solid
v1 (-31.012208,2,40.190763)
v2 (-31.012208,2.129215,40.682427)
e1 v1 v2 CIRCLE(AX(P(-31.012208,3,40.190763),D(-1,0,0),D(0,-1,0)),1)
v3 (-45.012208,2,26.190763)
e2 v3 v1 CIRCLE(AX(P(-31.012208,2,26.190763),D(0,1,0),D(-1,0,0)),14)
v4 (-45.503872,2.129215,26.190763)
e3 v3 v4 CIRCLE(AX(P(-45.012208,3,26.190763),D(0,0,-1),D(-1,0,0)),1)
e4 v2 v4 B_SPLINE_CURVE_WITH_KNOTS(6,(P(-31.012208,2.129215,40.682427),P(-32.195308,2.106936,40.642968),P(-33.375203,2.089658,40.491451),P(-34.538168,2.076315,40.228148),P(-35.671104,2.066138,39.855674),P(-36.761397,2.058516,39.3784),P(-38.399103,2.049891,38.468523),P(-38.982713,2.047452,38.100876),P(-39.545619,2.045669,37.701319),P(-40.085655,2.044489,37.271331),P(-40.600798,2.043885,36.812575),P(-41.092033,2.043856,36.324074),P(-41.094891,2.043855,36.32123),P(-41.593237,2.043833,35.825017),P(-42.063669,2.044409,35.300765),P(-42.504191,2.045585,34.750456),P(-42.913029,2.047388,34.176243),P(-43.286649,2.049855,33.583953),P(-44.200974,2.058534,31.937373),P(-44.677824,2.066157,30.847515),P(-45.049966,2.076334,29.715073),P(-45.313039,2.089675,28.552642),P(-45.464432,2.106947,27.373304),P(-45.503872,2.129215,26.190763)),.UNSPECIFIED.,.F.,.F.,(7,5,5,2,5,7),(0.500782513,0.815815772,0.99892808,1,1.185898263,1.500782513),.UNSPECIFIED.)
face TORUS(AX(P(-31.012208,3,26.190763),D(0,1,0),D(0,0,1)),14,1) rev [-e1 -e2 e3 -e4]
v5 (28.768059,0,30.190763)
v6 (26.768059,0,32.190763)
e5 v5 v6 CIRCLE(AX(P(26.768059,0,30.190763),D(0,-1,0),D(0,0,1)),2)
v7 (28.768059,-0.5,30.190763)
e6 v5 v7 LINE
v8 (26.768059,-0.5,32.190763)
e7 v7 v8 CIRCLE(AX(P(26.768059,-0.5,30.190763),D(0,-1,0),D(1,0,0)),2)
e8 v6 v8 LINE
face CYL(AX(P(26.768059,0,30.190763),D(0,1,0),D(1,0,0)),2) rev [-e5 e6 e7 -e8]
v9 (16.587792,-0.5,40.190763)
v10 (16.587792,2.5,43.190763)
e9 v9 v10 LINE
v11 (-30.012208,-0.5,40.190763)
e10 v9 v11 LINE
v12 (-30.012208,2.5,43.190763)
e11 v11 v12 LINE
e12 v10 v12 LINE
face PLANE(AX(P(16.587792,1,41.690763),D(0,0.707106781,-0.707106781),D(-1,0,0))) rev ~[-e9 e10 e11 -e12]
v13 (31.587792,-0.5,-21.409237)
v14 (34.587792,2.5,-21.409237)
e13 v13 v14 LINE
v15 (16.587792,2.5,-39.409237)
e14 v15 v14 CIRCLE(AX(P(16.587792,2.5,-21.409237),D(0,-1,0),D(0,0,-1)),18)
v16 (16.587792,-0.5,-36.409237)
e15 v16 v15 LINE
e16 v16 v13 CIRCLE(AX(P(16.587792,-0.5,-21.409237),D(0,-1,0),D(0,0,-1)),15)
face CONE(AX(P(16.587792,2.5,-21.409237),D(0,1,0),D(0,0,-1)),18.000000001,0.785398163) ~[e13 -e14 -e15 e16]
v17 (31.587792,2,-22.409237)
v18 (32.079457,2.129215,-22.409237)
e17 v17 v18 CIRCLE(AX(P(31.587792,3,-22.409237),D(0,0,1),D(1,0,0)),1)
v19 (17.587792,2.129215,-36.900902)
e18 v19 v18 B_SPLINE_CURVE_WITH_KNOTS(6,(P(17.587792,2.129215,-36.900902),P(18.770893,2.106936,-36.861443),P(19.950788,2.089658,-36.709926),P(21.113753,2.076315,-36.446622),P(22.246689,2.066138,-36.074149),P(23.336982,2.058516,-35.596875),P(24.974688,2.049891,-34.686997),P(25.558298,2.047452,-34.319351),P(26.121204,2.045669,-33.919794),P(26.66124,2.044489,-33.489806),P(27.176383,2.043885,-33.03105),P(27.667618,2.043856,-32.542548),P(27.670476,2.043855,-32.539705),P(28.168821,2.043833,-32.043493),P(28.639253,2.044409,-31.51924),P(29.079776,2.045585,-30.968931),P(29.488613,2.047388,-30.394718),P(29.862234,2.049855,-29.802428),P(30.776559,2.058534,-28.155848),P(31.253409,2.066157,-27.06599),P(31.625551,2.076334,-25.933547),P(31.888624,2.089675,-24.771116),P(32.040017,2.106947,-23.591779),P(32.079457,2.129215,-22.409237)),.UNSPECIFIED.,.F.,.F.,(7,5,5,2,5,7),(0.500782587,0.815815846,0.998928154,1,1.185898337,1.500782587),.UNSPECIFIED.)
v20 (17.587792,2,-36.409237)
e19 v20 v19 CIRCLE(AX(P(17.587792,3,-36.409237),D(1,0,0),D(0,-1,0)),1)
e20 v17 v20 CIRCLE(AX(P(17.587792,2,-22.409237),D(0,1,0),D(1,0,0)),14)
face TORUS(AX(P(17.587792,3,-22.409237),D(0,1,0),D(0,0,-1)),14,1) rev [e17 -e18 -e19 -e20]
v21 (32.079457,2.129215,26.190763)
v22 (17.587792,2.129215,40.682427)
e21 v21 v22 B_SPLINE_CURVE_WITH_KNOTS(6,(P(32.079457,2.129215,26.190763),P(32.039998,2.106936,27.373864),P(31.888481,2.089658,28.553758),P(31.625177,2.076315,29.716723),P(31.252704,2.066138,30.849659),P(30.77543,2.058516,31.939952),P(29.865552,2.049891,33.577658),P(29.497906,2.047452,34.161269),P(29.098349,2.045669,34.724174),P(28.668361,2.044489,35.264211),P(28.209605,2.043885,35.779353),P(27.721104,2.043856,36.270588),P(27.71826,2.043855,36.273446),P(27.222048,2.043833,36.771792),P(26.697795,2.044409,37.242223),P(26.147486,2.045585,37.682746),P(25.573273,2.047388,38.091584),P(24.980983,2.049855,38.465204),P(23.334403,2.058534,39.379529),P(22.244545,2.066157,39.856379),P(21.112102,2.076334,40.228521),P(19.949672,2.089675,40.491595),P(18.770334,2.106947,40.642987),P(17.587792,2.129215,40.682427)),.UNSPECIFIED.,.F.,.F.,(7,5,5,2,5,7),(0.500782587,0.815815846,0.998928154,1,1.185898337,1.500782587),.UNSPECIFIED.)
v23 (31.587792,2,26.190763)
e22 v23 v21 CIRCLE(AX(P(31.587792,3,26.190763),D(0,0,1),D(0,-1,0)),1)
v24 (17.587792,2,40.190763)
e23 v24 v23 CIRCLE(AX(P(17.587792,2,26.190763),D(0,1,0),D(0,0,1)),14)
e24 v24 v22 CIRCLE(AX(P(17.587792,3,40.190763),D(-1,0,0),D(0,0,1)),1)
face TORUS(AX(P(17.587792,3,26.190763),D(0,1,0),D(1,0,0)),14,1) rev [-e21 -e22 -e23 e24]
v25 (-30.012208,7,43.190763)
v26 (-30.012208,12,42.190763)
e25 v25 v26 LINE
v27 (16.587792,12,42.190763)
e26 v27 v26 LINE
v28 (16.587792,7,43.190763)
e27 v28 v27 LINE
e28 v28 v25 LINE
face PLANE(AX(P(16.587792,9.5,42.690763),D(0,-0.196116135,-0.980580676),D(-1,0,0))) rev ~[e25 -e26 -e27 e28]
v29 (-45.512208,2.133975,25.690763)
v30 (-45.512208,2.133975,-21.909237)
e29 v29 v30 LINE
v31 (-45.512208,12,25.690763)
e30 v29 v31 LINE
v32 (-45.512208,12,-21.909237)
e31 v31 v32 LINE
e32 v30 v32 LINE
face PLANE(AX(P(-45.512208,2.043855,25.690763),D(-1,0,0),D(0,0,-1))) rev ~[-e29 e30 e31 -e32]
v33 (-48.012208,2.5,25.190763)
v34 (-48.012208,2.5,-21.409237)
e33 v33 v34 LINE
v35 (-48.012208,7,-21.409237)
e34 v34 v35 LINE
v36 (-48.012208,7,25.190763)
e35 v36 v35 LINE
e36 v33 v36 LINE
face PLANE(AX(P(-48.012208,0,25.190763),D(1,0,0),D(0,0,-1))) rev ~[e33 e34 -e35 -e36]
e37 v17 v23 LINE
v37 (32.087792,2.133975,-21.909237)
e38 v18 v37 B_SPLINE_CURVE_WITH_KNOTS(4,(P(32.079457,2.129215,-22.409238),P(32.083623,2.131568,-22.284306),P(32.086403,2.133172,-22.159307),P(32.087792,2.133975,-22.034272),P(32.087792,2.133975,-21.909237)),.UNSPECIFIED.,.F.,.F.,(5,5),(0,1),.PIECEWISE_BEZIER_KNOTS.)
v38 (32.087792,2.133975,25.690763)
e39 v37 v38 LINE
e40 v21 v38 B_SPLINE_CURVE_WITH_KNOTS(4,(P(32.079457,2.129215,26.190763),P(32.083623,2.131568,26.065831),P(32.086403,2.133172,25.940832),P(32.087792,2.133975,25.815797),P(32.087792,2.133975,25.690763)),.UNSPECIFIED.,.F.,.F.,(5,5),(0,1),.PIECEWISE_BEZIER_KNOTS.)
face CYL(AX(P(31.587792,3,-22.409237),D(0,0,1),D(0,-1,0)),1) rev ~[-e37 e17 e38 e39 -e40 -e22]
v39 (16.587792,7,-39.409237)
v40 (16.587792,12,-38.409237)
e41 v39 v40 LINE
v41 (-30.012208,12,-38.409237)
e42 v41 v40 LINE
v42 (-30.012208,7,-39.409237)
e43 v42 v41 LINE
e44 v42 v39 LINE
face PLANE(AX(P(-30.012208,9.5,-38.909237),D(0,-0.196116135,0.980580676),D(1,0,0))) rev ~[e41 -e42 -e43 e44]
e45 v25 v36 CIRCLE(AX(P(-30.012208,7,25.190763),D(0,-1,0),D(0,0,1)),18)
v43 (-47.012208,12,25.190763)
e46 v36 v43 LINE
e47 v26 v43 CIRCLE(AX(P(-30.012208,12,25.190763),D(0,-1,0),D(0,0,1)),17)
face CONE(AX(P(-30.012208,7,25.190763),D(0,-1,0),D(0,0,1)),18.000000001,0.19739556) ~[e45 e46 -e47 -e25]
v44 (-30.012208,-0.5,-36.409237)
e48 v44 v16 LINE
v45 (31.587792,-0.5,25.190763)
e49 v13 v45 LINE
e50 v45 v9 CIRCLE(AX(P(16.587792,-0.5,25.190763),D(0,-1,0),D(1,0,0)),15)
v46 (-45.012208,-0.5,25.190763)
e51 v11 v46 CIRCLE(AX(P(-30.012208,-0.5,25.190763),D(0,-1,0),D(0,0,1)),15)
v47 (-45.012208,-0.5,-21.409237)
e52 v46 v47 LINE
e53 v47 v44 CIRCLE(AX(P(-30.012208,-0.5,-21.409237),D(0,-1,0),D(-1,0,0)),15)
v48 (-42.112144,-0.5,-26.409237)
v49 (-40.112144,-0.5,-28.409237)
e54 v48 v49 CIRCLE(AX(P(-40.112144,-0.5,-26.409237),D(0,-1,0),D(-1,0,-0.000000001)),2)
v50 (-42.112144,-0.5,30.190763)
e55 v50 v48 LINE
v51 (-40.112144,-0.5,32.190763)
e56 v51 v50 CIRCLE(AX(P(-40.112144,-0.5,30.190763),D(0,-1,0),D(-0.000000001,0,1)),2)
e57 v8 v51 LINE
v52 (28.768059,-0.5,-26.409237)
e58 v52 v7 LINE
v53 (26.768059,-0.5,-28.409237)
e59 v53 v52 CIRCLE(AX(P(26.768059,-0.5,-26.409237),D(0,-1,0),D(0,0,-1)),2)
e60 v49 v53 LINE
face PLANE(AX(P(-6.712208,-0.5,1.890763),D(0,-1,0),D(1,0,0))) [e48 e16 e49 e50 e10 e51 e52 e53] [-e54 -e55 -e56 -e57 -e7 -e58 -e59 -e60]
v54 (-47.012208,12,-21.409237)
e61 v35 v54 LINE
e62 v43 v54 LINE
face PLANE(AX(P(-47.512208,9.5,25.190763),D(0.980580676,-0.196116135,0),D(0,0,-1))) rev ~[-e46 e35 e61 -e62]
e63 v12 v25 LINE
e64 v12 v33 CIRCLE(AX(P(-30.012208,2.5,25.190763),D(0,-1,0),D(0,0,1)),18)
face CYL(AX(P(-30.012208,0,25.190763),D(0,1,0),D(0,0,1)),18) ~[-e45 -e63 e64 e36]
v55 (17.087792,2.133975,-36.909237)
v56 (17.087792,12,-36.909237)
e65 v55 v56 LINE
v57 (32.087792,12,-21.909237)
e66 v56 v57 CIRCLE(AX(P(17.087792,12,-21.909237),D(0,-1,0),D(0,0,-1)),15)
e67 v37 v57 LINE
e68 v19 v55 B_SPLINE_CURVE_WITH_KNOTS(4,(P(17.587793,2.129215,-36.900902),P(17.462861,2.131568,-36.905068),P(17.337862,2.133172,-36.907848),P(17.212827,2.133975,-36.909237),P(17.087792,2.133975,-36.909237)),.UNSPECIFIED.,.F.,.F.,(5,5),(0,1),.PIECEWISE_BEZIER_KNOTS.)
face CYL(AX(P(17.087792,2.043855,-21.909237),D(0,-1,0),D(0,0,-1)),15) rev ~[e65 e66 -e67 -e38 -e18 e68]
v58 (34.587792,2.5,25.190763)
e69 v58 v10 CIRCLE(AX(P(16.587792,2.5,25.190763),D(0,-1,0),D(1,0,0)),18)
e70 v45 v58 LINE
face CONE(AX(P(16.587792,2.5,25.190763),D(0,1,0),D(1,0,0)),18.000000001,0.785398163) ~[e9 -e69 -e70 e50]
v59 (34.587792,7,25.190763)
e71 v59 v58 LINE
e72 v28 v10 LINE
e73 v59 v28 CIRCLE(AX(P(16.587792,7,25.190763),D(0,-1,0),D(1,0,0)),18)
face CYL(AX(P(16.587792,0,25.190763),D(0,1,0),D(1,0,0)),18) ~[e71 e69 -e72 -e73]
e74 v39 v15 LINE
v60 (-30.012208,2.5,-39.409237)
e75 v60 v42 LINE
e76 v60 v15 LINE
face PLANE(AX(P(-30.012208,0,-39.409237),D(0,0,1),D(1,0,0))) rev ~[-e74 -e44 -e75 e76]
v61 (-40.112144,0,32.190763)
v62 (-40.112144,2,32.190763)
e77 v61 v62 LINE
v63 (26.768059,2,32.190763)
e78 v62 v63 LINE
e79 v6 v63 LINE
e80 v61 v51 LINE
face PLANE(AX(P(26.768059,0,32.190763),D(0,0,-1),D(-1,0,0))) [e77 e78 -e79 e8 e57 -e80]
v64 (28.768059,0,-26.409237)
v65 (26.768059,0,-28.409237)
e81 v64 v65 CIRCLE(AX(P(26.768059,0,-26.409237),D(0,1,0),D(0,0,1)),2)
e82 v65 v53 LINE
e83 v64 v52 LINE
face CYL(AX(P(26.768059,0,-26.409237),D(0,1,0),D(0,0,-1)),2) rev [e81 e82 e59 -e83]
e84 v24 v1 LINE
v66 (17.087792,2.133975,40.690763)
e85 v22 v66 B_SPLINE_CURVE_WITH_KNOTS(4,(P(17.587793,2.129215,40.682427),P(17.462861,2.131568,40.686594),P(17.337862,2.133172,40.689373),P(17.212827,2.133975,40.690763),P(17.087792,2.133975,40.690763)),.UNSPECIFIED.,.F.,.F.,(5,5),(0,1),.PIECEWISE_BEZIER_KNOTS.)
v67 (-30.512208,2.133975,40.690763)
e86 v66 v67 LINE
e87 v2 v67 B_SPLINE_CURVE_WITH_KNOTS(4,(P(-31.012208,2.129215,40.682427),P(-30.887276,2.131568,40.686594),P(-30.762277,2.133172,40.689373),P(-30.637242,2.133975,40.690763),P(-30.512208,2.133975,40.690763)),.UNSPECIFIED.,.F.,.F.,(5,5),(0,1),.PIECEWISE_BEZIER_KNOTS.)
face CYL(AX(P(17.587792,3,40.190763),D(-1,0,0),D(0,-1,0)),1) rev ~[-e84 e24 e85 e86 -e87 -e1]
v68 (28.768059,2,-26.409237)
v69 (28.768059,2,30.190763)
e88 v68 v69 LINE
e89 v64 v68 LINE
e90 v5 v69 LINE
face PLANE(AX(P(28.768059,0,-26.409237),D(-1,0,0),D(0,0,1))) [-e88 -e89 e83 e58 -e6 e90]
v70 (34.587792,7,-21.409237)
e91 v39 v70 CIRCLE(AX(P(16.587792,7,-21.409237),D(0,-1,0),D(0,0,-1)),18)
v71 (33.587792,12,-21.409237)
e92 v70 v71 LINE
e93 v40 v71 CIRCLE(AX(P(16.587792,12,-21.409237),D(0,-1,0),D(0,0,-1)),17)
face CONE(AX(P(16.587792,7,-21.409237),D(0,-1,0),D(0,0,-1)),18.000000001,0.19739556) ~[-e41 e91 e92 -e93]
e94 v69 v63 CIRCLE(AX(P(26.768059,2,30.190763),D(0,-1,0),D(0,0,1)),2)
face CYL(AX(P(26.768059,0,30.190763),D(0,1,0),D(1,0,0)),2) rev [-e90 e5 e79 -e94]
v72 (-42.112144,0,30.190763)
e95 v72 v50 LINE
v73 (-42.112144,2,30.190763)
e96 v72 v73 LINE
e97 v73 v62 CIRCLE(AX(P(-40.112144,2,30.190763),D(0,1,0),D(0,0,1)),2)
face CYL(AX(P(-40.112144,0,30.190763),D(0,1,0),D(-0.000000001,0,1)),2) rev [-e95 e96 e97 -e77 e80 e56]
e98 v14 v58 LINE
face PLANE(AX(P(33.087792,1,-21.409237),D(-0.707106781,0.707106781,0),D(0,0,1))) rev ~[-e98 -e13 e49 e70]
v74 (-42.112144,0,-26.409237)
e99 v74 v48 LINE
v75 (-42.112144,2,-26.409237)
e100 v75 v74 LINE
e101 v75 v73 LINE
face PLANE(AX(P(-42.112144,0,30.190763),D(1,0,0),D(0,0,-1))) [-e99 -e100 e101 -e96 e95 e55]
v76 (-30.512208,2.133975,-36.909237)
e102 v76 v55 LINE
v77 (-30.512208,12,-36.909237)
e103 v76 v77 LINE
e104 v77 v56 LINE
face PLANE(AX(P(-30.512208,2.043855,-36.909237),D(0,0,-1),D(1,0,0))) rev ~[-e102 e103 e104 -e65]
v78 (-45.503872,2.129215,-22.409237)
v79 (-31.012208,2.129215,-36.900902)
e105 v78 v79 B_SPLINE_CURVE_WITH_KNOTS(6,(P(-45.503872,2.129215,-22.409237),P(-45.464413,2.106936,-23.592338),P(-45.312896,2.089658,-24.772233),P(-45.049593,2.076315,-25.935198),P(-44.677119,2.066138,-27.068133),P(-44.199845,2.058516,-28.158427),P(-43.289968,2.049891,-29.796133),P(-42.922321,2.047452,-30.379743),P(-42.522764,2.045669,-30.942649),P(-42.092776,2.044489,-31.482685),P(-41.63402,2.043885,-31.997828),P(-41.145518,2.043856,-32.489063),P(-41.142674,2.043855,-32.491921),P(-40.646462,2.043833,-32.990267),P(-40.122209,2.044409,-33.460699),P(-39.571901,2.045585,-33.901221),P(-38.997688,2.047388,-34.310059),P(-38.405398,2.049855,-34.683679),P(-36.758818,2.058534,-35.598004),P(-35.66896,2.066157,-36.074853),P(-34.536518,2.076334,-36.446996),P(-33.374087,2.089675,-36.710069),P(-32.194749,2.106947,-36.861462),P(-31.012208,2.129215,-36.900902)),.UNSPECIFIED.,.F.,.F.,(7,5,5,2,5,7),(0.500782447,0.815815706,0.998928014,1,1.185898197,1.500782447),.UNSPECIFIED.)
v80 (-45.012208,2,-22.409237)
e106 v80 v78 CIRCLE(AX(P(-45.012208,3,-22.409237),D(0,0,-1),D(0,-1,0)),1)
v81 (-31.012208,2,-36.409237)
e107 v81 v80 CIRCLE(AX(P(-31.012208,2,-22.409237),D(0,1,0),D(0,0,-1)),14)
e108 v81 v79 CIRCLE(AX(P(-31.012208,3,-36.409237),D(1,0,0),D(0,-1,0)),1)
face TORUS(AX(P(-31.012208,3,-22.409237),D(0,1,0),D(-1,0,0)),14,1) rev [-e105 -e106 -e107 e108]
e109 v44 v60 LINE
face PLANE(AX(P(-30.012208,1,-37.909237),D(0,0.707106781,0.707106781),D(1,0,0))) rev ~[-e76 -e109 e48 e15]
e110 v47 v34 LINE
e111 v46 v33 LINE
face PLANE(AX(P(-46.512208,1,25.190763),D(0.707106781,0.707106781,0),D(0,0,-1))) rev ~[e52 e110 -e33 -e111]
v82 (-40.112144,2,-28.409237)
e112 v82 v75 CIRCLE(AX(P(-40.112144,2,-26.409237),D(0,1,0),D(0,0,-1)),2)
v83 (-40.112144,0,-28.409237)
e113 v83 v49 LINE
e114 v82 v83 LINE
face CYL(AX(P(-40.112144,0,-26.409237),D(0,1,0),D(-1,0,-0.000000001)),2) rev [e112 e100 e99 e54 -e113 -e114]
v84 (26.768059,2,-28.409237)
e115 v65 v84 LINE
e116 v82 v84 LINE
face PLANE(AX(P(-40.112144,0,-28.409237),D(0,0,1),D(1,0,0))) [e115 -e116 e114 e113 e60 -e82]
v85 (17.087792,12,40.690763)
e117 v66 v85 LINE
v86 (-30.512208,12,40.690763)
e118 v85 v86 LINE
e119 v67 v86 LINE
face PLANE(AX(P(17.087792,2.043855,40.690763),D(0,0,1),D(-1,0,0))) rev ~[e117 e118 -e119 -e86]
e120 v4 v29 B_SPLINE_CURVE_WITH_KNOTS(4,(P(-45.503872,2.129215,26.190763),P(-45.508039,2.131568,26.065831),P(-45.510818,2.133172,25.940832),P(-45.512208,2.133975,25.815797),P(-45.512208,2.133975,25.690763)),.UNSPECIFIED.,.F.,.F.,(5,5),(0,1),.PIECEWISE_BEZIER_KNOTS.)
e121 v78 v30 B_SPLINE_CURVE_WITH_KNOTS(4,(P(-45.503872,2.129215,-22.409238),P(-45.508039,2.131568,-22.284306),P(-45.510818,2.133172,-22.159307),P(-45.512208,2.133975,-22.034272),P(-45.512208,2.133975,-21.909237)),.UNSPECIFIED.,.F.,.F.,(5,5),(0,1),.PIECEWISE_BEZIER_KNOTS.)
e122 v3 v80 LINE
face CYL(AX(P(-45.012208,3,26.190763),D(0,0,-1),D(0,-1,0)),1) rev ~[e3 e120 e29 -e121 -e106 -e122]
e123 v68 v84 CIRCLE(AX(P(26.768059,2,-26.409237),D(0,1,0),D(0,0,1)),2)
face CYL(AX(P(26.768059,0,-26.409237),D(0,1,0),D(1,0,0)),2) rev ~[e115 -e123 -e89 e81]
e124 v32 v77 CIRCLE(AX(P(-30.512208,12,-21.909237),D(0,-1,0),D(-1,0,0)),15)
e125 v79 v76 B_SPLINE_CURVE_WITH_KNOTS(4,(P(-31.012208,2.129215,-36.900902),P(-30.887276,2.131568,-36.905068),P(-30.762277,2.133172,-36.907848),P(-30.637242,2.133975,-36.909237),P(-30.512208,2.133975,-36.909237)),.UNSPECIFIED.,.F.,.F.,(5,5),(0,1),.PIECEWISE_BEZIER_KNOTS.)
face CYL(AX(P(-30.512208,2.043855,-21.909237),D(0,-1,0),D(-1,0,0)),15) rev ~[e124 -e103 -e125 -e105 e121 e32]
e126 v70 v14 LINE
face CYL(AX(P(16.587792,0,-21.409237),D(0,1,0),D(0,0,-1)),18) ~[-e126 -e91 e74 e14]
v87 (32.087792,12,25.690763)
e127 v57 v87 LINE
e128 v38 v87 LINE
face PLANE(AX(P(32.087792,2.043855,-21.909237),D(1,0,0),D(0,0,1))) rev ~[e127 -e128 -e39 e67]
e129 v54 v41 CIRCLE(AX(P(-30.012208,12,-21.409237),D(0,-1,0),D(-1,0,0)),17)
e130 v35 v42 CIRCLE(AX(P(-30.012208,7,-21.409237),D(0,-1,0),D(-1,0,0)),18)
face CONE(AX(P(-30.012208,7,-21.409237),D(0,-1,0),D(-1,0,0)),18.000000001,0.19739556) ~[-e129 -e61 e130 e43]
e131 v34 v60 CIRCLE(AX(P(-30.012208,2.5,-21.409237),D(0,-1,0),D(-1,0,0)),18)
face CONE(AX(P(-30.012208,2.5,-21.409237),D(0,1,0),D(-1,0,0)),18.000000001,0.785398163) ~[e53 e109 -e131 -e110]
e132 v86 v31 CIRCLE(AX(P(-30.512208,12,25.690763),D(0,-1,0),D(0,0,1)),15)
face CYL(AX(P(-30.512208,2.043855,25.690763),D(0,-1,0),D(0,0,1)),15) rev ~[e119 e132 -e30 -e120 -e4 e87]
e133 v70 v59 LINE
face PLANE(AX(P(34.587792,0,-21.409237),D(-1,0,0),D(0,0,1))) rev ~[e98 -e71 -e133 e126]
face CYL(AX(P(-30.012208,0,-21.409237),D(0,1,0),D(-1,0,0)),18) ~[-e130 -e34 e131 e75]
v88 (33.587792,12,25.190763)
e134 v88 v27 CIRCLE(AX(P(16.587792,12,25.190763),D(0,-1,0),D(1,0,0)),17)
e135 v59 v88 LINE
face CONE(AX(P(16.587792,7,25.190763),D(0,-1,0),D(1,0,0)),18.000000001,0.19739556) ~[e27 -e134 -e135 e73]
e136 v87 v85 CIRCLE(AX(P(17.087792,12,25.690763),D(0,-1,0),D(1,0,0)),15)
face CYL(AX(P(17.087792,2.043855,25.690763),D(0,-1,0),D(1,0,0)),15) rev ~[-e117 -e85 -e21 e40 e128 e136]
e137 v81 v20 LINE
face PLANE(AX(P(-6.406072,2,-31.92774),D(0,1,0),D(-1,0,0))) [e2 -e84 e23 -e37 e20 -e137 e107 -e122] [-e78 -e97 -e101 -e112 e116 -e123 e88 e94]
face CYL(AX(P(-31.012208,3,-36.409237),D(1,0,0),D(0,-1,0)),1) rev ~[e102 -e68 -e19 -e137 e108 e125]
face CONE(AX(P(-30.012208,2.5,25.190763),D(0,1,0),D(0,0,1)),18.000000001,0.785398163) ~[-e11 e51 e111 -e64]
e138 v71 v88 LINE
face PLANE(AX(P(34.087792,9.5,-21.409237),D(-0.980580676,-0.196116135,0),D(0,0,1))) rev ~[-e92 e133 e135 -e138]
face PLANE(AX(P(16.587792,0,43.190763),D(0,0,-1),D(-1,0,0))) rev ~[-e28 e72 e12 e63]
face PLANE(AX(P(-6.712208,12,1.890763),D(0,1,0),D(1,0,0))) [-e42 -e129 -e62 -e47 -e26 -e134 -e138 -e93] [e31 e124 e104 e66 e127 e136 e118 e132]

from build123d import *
from OCP.BRepFilletAPI import BRepFilletAPI_MakeChamfer

# Parameters (mm, degrees)
BOSS_EXTRUDE1_DEPTH = 12
BOSS_EXTRUDE2_DEPTH = 2
BOSS_EXTRUDE3_DEPTH = 2
FILLET1_R           = 1
CHAMFER2_SIZE       = 5
CHAMFER2_SIZE2      = 1
BOSS_EXTRUDE4_START = -2
SKETCH3_W           = 1.836045909
SKETCH3_H           = 61.241929872
SKETCH3_W_2         = 2.002550415
SKETCH3_H_2         = 60.908326167
BOSS_EXTRUDE4_DEPTH = 2
FILLET2_R           = 2
BOSS_EXTRUDE6_DEPTH = 0.5
CHAMFER3_SIZE       = 3
BOSS_EXTRUDE7_START = -9.956145
BOSS_EXTRUDE7_DEPTH = 9.956145


with BuildPart() as part:
    # Sketch1 → Boss-Extrude1 (new body)
    with BuildSketch(Plane(origin=(0, 0, 0), x_dir=(1, 0, 0), z_dir=(0, 1, 0))):
        with BuildLine():
            Line((-30.01220756, 39.409237307), (16.58779244, 39.409237307))
            ThreePointArc((16.58779244, 39.409237307), (29.315714501, 34.137159368), (34.58779244, 21.409237307))
            Line((34.58779244, 21.409237307), (34.58779244, -25.190762693))
            ThreePointArc((34.58779244, -25.190762693), (29.315714501, -37.918684754), (16.58779244, -43.190762693))
            Line((16.58779244, -43.190762693), (-30.01220756, -43.190762693))
            ThreePointArc((-30.01220756, -43.190762693), (-42.740129621, -37.918684754), (-48.01220756, -25.190762693))
            Line((-48.01220756, -25.190762693), (-48.01220756, 21.409237307))
            ThreePointArc((-48.01220756, 21.409237307), (-42.740129621, 34.137159368), (-30.01220756, 39.409237307))
        make_face()
        with BuildLine():
            ThreePointArc((-31.01220756, 37.409237307), (-41.618809278, 33.015839025), (-46.01220756, 22.409237307))
            Line((-46.01220756, 22.409237307), (-46.01220756, -26.190762693))
            ThreePointArc((-46.01220756, -26.190762693), (-41.618809278, -36.797364411), (-31.01220756, -41.190762693))
            Line((-31.01220756, -41.190762693), (17.58779244, -41.190762693))
            ThreePointArc((17.58779244, -41.190762693), (28.194394158, -36.797364411), (32.58779244, -26.190762693))
            Line((32.58779244, -26.190762693), (32.58779244, 22.409237307))
            ThreePointArc((32.58779244, 22.409237307), (28.194394158, 33.015839025), (17.58779244, 37.409237307))
            Line((17.58779244, 37.409237307), (-31.01220756, 37.409237307))
        make_face(mode=Mode.SUBTRACT)
    extrude(amount=BOSS_EXTRUDE1_DEPTH)

    # Sketch1<3> → Boss-Extrude2 (add)
    with BuildSketch(Plane(origin=(0, 0, 0), x_dir=(1, 0, 0), z_dir=(0, 1, 0))):
        with BuildLine():
            Line((-31.01220756, 37.409237307), (17.58779244, 37.409237307))
            ThreePointArc((17.58779244, 37.409237307), (28.194394158, 33.015839025), (32.58779244, 22.409237307))
            Line((32.58779244, 22.409237307), (32.58779244, -26.190762693))
            ThreePointArc((32.58779244, -26.190762693), (28.194394158, -36.797364411), (17.58779244, -41.190762693))
            Line((17.58779244, -41.190762693), (-31.01220756, -41.190762693))
            ThreePointArc((-31.01220756, -41.190762693), (-41.618809278, -36.797364411), (-46.01220756, -26.190762693))
            Line((-46.01220756, -26.190762693), (-46.01220756, 22.409237307))
            ThreePointArc((-46.01220756, 22.409237307), (-41.618809278, 33.015839025), (-31.01220756, 37.409237307))
        make_face()
        with BuildLine():
            ThreePointArc((-33.01220756, 35.409237307), (-40.790382153, 32.1874119), (-44.01220756, 24.409237307))
            Line((-44.01220756, 24.409237307), (-44.01220756, -28.190762693))
            ThreePointArc((-44.01220756, -28.190762693), (-40.790382153, -35.968937286), (-33.01220756, -39.190762693))
            Line((-33.01220756, -39.190762693), (19.58779244, -39.190762693))
            ThreePointArc((19.58779244, -39.190762693), (27.365967033, -35.968937286), (30.58779244, -28.190762693))
            Line((30.58779244, -28.190762693), (30.58779244, 24.409237307))
            ThreePointArc((30.58779244, 24.409237307), (27.365967033, 32.1874119), (19.58779244, 35.409237307))
            Line((19.58779244, 35.409237307), (-33.01220756, 35.409237307))
        make_face(mode=Mode.SUBTRACT)
    extrude(amount=BOSS_EXTRUDE2_DEPTH)

    # Sketch2 → Boss-Extrude3 (add)
    with BuildSketch(Plane.XZ):
        Polygon((-43.965284719, -28.409237307), (31.645799766, -28.409237307), (28.962058079, -33.229552195), (23.454257131, -35.92314828), (-39.267624427, -35.92314828), (-41.596405872, -34.261761517), align=None)
        Polygon((-43.464319503, 32.190762693), (31.986692978, 32.190762693), (24.084814063, 40.906543889), (12.932368974, 40.906543889), (-33.320922397, 40.906543889), (-40.968109046, 37.811254055), align=None)
    extrude(amount=-BOSS_EXTRUDE3_DEPTH)

    # Fillet1
    fillet1_edges = [part.edges().sort_by_distance(p)[0] for p in [
        (-6.71220756, 2, -37.409237307),
        (32.58779244, 2, 1.890762693),
        (28.194394158, 2, -33.015839025),
        (-41.618809278, 2, -33.015839025),
        (-46.01220756, 2, 1.890762693),
        (-41.618809278, 2, 36.797364411),
        (-6.71220756, 2, 41.190762693),
        (28.194394158, 2, 36.797364411),
    ]]
    fillet(fillet1_edges, radius=FILLET1_R)

    # Chamfer2: one chamfer whose edges measure the first distance from different faces: ONE call of the kernel's chamfer builder (chamfer() names one face for all edges)
    chamfer2_edges_1 = [part.edges().sort_by_distance(p)[0] for p in [
        (-6.71220756, 12, -39.409237307),
    ]]
    chamfer2_side_1 = [part.faces().sort_by_distance(p)[0] for p in [
        (-6.71220756, 6, -39.409237307),
    ]]
    chamfer2_edges_2 = [part.edges().sort_by_distance(p)[0] for p in [
        (-42.740129621, 12, -34.137159368),
    ]]
    chamfer2_side_2 = [part.faces().sort_by_distance(p)[0] for p in [
        (-42.740129621, 6, -34.137159368),
    ]]
    chamfer2_edges_3 = [part.edges().sort_by_distance(p)[0] for p in [
        (-48.01220756, 12, 1.890762693),
    ]]
    chamfer2_side_3 = [part.faces().sort_by_distance(p)[0] for p in [
        (-48.01220756, 6, 1.890762693),
    ]]
    chamfer2_edges_4 = [part.edges().sort_by_distance(p)[0] for p in [
        (-42.740129621, 12, 37.918684754),
    ]]
    chamfer2_side_4 = [part.faces().sort_by_distance(p)[0] for p in [
        (-42.740129621, 6, 37.918684754),
    ]]
    chamfer2_edges_5 = [part.edges().sort_by_distance(p)[0] for p in [
        (-6.71220756, 12, 43.190762693),
    ]]
    chamfer2_side_5 = [part.faces().sort_by_distance(p)[0] for p in [
        (-6.71220756, 6, 43.190762693),
    ]]
    chamfer2_edges_6 = [part.edges().sort_by_distance(p)[0] for p in [
        (29.315714501, 12, 37.918684754),
    ]]
    chamfer2_side_6 = [part.faces().sort_by_distance(p)[0] for p in [
        (29.315714501, 6, 37.918684754),
    ]]
    chamfer2_edges_7 = [part.edges().sort_by_distance(p)[0] for p in [
        (34.58779244, 12, 1.890762693),
    ]]
    chamfer2_side_7 = [part.faces().sort_by_distance(p)[0] for p in [
        (34.58779244, 6, 1.890762693),
    ]]
    chamfer2_edges_8 = [part.edges().sort_by_distance(p)[0] for p in [
        (29.315714501, 12, -34.137159368),
    ]]
    chamfer2_side_8 = [part.faces().sort_by_distance(p)[0] for p in [
        (29.315714501, 6, -34.137159368),
    ]]
    chamfer2 = BRepFilletAPI_MakeChamfer(part.part.solid().wrapped)
    for e in chamfer2_edges_1:
        chamfer2.Add(CHAMFER2_SIZE, CHAMFER2_SIZE2, e.wrapped, chamfer2_side_1[0].wrapped)  # the first distance lies on this face
    for e in chamfer2_edges_2:
        chamfer2.Add(CHAMFER2_SIZE, CHAMFER2_SIZE2, e.wrapped, chamfer2_side_2[0].wrapped)  # the first distance lies on this face
    for e in chamfer2_edges_3:
        chamfer2.Add(CHAMFER2_SIZE, CHAMFER2_SIZE2, e.wrapped, chamfer2_side_3[0].wrapped)  # the first distance lies on this face
    for e in chamfer2_edges_4:
        chamfer2.Add(CHAMFER2_SIZE, CHAMFER2_SIZE2, e.wrapped, chamfer2_side_4[0].wrapped)  # the first distance lies on this face
    for e in chamfer2_edges_5:
        chamfer2.Add(CHAMFER2_SIZE, CHAMFER2_SIZE2, e.wrapped, chamfer2_side_5[0].wrapped)  # the first distance lies on this face
    for e in chamfer2_edges_6:
        chamfer2.Add(CHAMFER2_SIZE, CHAMFER2_SIZE2, e.wrapped, chamfer2_side_6[0].wrapped)  # the first distance lies on this face
    for e in chamfer2_edges_7:
        chamfer2.Add(CHAMFER2_SIZE, CHAMFER2_SIZE2, e.wrapped, chamfer2_side_7[0].wrapped)  # the first distance lies on this face
    for e in chamfer2_edges_8:
        chamfer2.Add(CHAMFER2_SIZE, CHAMFER2_SIZE2, e.wrapped, chamfer2_side_8[0].wrapped)  # the first distance lies on this face
    add(Compound.cast(chamfer2.Shape()), mode=Mode.REPLACE)

    # Sketch3 → Boss-Extrude4 (add)
    with BuildSketch(Plane.XZ.offset(BOSS_EXTRUDE4_START)):
        with Locations((29.686081831, 1.878123924)):
            Rectangle(SKETCH3_W, SKETCH3_H)
        with Locations((-43.113419178, 2.044925776)):
            Rectangle(SKETCH3_W_2, SKETCH3_H_2)
    extrude(amount=BOSS_EXTRUDE4_DEPTH)

    # Fillet2
    fillet2_edges = [part.edges().sort_by_distance(p)[0] for p in [
        (28.768058876, 1, 32.190762693),
        (28.768058876, 1, -28.409237307),
        (-42.11214397, 1, 32.190762693),
        (-42.11214397, 1, -28.409237307),
    ]]
    fillet(fillet2_edges, radius=FILLET2_R)

    # Sketch4 → Boss-Extrude6 (add)
    with BuildSketch(Plane.XZ):
        with BuildLine():
            Line((-30.01220756, -39.409237307), (16.58779244, -39.409237307))
            ThreePointArc((16.58779244, -39.409237307), (29.315714501, -34.137159368), (34.58779244, -21.409237307))
            Line((34.58779244, -21.409237307), (34.58779244, 25.190762693))
            ThreePointArc((34.58779244, 25.190762693), (29.315714501, 37.918684754), (16.58779244, 43.190762693))
            Line((16.58779244, 43.190762693), (-30.01220756, 43.190762693))
            ThreePointArc((-30.01220756, 43.190762693), (-42.740129621, 37.918684754), (-48.01220756, 25.190762693))
            Line((-48.01220756, 25.190762693), (-48.01220756, -21.409237307))
            ThreePointArc((-48.01220756, -21.409237307), (-42.740129621, -34.137159368), (-30.01220756, -39.409237307))
        make_face()
        with BuildLine():
            Line((-40.11214397, -28.409237307), (26.768058876, -28.409237307))
            ThreePointArc((26.768058876, -28.409237307), (28.182272439, -27.823450869), (28.768058876, -26.409237307))
            Line((28.768058876, -26.409237307), (28.768058876, 30.190762693))
            ThreePointArc((28.768058876, 30.190762693), (28.182272439, 31.604976255), (26.768058876, 32.190762693))
            Line((26.768058876, 32.190762693), (-40.11214397, 32.190762693))
            ThreePointArc((-40.11214397, 32.190762693), (-41.526357532, 31.604976255), (-42.11214397, 30.190762693))
            Line((-42.11214397, 30.190762693), (-42.11214397, -26.409237307))
            ThreePointArc((-42.11214397, -26.409237307), (-41.526357532, -27.823450869), (-40.11214397, -28.409237307))
        make_face(mode=Mode.SUBTRACT)
    extrude(amount=BOSS_EXTRUDE6_DEPTH)

    # Chamfer3
    chamfer3_edges = [part.edges().sort_by_distance(p)[0] for p in [
        (-42.740129621, -0.5, -34.137159368),
        (-6.71220756, -0.5, -39.409237307),
        (29.315714501, -0.5, -34.137159368),
        (34.58779244, -0.5, 1.890762693),
        (29.315714501, -0.5, 37.918684754),
        (-6.71220756, -0.5, 43.190762693),
        (-42.740129621, -0.5, 37.918684754),
        (-48.01220756, -0.5, 1.890762693),
    ]]
    chamfer(chamfer3_edges, length=CHAMFER3_SIZE)

    # Sketch5 → Boss-Extrude7 (add)
    with BuildSketch(Plane(origin=(0, 12, 0), x_dir=(1, 0, 0), z_dir=(0, 1, 0)).offset(BOSS_EXTRUDE7_START)):
        with BuildLine():
            Line((17.58779244, 37.409237307), (-31.01220756, 37.409237307))
            ThreePointArc((-31.01220756, 37.409237307), (-41.618809278, 33.015839025), (-46.01220756, 22.409237307))
            Line((-46.01220756, 22.409237307), (-46.01220756, -26.190762693))
            ThreePointArc((-46.01220756, -26.190762693), (-41.618809278, -36.797364411), (-31.01220756, -41.190762693))
            Line((-31.01220756, -41.190762693), (17.58779244, -41.190762693))
            ThreePointArc((17.58779244, -41.190762693), (28.194394158, -36.797364411), (32.58779244, -26.190762693))
            Line((32.58779244, -26.190762693), (32.58779244, 22.409237307))
            ThreePointArc((32.58779244, 22.409237307), (28.194394158, 33.015839025), (17.58779244, 37.409237307))
        make_face()
        with BuildLine():
            Line((-30.51220756, 36.909237307), (17.08779244, 36.909237307))
            ThreePointArc((17.08779244, 36.909237307), (27.694394158, 32.515839025), (32.08779244, 21.909237307))
            Line((32.08779244, 21.909237307), (32.08779244, -25.690762693))
            ThreePointArc((32.08779244, -25.690762693), (27.694394158, -36.297364411), (17.08779244, -40.690762693))
            Line((17.08779244, -40.690762693), (-30.51220756, -40.690762693))
            ThreePointArc((-30.51220756, -40.690762693), (-41.118809278, -36.297364411), (-45.51220756, -25.690762693))
            Line((-45.51220756, -25.690762693), (-45.51220756, 21.909237307))
            ThreePointArc((-45.51220756, 21.909237307), (-41.118809278, 32.515839025), (-30.51220756, 36.909237307))
        make_face(mode=Mode.SUBTRACT)
    extrude(amount=BOSS_EXTRUDE7_DEPTH)


solid = part.part
